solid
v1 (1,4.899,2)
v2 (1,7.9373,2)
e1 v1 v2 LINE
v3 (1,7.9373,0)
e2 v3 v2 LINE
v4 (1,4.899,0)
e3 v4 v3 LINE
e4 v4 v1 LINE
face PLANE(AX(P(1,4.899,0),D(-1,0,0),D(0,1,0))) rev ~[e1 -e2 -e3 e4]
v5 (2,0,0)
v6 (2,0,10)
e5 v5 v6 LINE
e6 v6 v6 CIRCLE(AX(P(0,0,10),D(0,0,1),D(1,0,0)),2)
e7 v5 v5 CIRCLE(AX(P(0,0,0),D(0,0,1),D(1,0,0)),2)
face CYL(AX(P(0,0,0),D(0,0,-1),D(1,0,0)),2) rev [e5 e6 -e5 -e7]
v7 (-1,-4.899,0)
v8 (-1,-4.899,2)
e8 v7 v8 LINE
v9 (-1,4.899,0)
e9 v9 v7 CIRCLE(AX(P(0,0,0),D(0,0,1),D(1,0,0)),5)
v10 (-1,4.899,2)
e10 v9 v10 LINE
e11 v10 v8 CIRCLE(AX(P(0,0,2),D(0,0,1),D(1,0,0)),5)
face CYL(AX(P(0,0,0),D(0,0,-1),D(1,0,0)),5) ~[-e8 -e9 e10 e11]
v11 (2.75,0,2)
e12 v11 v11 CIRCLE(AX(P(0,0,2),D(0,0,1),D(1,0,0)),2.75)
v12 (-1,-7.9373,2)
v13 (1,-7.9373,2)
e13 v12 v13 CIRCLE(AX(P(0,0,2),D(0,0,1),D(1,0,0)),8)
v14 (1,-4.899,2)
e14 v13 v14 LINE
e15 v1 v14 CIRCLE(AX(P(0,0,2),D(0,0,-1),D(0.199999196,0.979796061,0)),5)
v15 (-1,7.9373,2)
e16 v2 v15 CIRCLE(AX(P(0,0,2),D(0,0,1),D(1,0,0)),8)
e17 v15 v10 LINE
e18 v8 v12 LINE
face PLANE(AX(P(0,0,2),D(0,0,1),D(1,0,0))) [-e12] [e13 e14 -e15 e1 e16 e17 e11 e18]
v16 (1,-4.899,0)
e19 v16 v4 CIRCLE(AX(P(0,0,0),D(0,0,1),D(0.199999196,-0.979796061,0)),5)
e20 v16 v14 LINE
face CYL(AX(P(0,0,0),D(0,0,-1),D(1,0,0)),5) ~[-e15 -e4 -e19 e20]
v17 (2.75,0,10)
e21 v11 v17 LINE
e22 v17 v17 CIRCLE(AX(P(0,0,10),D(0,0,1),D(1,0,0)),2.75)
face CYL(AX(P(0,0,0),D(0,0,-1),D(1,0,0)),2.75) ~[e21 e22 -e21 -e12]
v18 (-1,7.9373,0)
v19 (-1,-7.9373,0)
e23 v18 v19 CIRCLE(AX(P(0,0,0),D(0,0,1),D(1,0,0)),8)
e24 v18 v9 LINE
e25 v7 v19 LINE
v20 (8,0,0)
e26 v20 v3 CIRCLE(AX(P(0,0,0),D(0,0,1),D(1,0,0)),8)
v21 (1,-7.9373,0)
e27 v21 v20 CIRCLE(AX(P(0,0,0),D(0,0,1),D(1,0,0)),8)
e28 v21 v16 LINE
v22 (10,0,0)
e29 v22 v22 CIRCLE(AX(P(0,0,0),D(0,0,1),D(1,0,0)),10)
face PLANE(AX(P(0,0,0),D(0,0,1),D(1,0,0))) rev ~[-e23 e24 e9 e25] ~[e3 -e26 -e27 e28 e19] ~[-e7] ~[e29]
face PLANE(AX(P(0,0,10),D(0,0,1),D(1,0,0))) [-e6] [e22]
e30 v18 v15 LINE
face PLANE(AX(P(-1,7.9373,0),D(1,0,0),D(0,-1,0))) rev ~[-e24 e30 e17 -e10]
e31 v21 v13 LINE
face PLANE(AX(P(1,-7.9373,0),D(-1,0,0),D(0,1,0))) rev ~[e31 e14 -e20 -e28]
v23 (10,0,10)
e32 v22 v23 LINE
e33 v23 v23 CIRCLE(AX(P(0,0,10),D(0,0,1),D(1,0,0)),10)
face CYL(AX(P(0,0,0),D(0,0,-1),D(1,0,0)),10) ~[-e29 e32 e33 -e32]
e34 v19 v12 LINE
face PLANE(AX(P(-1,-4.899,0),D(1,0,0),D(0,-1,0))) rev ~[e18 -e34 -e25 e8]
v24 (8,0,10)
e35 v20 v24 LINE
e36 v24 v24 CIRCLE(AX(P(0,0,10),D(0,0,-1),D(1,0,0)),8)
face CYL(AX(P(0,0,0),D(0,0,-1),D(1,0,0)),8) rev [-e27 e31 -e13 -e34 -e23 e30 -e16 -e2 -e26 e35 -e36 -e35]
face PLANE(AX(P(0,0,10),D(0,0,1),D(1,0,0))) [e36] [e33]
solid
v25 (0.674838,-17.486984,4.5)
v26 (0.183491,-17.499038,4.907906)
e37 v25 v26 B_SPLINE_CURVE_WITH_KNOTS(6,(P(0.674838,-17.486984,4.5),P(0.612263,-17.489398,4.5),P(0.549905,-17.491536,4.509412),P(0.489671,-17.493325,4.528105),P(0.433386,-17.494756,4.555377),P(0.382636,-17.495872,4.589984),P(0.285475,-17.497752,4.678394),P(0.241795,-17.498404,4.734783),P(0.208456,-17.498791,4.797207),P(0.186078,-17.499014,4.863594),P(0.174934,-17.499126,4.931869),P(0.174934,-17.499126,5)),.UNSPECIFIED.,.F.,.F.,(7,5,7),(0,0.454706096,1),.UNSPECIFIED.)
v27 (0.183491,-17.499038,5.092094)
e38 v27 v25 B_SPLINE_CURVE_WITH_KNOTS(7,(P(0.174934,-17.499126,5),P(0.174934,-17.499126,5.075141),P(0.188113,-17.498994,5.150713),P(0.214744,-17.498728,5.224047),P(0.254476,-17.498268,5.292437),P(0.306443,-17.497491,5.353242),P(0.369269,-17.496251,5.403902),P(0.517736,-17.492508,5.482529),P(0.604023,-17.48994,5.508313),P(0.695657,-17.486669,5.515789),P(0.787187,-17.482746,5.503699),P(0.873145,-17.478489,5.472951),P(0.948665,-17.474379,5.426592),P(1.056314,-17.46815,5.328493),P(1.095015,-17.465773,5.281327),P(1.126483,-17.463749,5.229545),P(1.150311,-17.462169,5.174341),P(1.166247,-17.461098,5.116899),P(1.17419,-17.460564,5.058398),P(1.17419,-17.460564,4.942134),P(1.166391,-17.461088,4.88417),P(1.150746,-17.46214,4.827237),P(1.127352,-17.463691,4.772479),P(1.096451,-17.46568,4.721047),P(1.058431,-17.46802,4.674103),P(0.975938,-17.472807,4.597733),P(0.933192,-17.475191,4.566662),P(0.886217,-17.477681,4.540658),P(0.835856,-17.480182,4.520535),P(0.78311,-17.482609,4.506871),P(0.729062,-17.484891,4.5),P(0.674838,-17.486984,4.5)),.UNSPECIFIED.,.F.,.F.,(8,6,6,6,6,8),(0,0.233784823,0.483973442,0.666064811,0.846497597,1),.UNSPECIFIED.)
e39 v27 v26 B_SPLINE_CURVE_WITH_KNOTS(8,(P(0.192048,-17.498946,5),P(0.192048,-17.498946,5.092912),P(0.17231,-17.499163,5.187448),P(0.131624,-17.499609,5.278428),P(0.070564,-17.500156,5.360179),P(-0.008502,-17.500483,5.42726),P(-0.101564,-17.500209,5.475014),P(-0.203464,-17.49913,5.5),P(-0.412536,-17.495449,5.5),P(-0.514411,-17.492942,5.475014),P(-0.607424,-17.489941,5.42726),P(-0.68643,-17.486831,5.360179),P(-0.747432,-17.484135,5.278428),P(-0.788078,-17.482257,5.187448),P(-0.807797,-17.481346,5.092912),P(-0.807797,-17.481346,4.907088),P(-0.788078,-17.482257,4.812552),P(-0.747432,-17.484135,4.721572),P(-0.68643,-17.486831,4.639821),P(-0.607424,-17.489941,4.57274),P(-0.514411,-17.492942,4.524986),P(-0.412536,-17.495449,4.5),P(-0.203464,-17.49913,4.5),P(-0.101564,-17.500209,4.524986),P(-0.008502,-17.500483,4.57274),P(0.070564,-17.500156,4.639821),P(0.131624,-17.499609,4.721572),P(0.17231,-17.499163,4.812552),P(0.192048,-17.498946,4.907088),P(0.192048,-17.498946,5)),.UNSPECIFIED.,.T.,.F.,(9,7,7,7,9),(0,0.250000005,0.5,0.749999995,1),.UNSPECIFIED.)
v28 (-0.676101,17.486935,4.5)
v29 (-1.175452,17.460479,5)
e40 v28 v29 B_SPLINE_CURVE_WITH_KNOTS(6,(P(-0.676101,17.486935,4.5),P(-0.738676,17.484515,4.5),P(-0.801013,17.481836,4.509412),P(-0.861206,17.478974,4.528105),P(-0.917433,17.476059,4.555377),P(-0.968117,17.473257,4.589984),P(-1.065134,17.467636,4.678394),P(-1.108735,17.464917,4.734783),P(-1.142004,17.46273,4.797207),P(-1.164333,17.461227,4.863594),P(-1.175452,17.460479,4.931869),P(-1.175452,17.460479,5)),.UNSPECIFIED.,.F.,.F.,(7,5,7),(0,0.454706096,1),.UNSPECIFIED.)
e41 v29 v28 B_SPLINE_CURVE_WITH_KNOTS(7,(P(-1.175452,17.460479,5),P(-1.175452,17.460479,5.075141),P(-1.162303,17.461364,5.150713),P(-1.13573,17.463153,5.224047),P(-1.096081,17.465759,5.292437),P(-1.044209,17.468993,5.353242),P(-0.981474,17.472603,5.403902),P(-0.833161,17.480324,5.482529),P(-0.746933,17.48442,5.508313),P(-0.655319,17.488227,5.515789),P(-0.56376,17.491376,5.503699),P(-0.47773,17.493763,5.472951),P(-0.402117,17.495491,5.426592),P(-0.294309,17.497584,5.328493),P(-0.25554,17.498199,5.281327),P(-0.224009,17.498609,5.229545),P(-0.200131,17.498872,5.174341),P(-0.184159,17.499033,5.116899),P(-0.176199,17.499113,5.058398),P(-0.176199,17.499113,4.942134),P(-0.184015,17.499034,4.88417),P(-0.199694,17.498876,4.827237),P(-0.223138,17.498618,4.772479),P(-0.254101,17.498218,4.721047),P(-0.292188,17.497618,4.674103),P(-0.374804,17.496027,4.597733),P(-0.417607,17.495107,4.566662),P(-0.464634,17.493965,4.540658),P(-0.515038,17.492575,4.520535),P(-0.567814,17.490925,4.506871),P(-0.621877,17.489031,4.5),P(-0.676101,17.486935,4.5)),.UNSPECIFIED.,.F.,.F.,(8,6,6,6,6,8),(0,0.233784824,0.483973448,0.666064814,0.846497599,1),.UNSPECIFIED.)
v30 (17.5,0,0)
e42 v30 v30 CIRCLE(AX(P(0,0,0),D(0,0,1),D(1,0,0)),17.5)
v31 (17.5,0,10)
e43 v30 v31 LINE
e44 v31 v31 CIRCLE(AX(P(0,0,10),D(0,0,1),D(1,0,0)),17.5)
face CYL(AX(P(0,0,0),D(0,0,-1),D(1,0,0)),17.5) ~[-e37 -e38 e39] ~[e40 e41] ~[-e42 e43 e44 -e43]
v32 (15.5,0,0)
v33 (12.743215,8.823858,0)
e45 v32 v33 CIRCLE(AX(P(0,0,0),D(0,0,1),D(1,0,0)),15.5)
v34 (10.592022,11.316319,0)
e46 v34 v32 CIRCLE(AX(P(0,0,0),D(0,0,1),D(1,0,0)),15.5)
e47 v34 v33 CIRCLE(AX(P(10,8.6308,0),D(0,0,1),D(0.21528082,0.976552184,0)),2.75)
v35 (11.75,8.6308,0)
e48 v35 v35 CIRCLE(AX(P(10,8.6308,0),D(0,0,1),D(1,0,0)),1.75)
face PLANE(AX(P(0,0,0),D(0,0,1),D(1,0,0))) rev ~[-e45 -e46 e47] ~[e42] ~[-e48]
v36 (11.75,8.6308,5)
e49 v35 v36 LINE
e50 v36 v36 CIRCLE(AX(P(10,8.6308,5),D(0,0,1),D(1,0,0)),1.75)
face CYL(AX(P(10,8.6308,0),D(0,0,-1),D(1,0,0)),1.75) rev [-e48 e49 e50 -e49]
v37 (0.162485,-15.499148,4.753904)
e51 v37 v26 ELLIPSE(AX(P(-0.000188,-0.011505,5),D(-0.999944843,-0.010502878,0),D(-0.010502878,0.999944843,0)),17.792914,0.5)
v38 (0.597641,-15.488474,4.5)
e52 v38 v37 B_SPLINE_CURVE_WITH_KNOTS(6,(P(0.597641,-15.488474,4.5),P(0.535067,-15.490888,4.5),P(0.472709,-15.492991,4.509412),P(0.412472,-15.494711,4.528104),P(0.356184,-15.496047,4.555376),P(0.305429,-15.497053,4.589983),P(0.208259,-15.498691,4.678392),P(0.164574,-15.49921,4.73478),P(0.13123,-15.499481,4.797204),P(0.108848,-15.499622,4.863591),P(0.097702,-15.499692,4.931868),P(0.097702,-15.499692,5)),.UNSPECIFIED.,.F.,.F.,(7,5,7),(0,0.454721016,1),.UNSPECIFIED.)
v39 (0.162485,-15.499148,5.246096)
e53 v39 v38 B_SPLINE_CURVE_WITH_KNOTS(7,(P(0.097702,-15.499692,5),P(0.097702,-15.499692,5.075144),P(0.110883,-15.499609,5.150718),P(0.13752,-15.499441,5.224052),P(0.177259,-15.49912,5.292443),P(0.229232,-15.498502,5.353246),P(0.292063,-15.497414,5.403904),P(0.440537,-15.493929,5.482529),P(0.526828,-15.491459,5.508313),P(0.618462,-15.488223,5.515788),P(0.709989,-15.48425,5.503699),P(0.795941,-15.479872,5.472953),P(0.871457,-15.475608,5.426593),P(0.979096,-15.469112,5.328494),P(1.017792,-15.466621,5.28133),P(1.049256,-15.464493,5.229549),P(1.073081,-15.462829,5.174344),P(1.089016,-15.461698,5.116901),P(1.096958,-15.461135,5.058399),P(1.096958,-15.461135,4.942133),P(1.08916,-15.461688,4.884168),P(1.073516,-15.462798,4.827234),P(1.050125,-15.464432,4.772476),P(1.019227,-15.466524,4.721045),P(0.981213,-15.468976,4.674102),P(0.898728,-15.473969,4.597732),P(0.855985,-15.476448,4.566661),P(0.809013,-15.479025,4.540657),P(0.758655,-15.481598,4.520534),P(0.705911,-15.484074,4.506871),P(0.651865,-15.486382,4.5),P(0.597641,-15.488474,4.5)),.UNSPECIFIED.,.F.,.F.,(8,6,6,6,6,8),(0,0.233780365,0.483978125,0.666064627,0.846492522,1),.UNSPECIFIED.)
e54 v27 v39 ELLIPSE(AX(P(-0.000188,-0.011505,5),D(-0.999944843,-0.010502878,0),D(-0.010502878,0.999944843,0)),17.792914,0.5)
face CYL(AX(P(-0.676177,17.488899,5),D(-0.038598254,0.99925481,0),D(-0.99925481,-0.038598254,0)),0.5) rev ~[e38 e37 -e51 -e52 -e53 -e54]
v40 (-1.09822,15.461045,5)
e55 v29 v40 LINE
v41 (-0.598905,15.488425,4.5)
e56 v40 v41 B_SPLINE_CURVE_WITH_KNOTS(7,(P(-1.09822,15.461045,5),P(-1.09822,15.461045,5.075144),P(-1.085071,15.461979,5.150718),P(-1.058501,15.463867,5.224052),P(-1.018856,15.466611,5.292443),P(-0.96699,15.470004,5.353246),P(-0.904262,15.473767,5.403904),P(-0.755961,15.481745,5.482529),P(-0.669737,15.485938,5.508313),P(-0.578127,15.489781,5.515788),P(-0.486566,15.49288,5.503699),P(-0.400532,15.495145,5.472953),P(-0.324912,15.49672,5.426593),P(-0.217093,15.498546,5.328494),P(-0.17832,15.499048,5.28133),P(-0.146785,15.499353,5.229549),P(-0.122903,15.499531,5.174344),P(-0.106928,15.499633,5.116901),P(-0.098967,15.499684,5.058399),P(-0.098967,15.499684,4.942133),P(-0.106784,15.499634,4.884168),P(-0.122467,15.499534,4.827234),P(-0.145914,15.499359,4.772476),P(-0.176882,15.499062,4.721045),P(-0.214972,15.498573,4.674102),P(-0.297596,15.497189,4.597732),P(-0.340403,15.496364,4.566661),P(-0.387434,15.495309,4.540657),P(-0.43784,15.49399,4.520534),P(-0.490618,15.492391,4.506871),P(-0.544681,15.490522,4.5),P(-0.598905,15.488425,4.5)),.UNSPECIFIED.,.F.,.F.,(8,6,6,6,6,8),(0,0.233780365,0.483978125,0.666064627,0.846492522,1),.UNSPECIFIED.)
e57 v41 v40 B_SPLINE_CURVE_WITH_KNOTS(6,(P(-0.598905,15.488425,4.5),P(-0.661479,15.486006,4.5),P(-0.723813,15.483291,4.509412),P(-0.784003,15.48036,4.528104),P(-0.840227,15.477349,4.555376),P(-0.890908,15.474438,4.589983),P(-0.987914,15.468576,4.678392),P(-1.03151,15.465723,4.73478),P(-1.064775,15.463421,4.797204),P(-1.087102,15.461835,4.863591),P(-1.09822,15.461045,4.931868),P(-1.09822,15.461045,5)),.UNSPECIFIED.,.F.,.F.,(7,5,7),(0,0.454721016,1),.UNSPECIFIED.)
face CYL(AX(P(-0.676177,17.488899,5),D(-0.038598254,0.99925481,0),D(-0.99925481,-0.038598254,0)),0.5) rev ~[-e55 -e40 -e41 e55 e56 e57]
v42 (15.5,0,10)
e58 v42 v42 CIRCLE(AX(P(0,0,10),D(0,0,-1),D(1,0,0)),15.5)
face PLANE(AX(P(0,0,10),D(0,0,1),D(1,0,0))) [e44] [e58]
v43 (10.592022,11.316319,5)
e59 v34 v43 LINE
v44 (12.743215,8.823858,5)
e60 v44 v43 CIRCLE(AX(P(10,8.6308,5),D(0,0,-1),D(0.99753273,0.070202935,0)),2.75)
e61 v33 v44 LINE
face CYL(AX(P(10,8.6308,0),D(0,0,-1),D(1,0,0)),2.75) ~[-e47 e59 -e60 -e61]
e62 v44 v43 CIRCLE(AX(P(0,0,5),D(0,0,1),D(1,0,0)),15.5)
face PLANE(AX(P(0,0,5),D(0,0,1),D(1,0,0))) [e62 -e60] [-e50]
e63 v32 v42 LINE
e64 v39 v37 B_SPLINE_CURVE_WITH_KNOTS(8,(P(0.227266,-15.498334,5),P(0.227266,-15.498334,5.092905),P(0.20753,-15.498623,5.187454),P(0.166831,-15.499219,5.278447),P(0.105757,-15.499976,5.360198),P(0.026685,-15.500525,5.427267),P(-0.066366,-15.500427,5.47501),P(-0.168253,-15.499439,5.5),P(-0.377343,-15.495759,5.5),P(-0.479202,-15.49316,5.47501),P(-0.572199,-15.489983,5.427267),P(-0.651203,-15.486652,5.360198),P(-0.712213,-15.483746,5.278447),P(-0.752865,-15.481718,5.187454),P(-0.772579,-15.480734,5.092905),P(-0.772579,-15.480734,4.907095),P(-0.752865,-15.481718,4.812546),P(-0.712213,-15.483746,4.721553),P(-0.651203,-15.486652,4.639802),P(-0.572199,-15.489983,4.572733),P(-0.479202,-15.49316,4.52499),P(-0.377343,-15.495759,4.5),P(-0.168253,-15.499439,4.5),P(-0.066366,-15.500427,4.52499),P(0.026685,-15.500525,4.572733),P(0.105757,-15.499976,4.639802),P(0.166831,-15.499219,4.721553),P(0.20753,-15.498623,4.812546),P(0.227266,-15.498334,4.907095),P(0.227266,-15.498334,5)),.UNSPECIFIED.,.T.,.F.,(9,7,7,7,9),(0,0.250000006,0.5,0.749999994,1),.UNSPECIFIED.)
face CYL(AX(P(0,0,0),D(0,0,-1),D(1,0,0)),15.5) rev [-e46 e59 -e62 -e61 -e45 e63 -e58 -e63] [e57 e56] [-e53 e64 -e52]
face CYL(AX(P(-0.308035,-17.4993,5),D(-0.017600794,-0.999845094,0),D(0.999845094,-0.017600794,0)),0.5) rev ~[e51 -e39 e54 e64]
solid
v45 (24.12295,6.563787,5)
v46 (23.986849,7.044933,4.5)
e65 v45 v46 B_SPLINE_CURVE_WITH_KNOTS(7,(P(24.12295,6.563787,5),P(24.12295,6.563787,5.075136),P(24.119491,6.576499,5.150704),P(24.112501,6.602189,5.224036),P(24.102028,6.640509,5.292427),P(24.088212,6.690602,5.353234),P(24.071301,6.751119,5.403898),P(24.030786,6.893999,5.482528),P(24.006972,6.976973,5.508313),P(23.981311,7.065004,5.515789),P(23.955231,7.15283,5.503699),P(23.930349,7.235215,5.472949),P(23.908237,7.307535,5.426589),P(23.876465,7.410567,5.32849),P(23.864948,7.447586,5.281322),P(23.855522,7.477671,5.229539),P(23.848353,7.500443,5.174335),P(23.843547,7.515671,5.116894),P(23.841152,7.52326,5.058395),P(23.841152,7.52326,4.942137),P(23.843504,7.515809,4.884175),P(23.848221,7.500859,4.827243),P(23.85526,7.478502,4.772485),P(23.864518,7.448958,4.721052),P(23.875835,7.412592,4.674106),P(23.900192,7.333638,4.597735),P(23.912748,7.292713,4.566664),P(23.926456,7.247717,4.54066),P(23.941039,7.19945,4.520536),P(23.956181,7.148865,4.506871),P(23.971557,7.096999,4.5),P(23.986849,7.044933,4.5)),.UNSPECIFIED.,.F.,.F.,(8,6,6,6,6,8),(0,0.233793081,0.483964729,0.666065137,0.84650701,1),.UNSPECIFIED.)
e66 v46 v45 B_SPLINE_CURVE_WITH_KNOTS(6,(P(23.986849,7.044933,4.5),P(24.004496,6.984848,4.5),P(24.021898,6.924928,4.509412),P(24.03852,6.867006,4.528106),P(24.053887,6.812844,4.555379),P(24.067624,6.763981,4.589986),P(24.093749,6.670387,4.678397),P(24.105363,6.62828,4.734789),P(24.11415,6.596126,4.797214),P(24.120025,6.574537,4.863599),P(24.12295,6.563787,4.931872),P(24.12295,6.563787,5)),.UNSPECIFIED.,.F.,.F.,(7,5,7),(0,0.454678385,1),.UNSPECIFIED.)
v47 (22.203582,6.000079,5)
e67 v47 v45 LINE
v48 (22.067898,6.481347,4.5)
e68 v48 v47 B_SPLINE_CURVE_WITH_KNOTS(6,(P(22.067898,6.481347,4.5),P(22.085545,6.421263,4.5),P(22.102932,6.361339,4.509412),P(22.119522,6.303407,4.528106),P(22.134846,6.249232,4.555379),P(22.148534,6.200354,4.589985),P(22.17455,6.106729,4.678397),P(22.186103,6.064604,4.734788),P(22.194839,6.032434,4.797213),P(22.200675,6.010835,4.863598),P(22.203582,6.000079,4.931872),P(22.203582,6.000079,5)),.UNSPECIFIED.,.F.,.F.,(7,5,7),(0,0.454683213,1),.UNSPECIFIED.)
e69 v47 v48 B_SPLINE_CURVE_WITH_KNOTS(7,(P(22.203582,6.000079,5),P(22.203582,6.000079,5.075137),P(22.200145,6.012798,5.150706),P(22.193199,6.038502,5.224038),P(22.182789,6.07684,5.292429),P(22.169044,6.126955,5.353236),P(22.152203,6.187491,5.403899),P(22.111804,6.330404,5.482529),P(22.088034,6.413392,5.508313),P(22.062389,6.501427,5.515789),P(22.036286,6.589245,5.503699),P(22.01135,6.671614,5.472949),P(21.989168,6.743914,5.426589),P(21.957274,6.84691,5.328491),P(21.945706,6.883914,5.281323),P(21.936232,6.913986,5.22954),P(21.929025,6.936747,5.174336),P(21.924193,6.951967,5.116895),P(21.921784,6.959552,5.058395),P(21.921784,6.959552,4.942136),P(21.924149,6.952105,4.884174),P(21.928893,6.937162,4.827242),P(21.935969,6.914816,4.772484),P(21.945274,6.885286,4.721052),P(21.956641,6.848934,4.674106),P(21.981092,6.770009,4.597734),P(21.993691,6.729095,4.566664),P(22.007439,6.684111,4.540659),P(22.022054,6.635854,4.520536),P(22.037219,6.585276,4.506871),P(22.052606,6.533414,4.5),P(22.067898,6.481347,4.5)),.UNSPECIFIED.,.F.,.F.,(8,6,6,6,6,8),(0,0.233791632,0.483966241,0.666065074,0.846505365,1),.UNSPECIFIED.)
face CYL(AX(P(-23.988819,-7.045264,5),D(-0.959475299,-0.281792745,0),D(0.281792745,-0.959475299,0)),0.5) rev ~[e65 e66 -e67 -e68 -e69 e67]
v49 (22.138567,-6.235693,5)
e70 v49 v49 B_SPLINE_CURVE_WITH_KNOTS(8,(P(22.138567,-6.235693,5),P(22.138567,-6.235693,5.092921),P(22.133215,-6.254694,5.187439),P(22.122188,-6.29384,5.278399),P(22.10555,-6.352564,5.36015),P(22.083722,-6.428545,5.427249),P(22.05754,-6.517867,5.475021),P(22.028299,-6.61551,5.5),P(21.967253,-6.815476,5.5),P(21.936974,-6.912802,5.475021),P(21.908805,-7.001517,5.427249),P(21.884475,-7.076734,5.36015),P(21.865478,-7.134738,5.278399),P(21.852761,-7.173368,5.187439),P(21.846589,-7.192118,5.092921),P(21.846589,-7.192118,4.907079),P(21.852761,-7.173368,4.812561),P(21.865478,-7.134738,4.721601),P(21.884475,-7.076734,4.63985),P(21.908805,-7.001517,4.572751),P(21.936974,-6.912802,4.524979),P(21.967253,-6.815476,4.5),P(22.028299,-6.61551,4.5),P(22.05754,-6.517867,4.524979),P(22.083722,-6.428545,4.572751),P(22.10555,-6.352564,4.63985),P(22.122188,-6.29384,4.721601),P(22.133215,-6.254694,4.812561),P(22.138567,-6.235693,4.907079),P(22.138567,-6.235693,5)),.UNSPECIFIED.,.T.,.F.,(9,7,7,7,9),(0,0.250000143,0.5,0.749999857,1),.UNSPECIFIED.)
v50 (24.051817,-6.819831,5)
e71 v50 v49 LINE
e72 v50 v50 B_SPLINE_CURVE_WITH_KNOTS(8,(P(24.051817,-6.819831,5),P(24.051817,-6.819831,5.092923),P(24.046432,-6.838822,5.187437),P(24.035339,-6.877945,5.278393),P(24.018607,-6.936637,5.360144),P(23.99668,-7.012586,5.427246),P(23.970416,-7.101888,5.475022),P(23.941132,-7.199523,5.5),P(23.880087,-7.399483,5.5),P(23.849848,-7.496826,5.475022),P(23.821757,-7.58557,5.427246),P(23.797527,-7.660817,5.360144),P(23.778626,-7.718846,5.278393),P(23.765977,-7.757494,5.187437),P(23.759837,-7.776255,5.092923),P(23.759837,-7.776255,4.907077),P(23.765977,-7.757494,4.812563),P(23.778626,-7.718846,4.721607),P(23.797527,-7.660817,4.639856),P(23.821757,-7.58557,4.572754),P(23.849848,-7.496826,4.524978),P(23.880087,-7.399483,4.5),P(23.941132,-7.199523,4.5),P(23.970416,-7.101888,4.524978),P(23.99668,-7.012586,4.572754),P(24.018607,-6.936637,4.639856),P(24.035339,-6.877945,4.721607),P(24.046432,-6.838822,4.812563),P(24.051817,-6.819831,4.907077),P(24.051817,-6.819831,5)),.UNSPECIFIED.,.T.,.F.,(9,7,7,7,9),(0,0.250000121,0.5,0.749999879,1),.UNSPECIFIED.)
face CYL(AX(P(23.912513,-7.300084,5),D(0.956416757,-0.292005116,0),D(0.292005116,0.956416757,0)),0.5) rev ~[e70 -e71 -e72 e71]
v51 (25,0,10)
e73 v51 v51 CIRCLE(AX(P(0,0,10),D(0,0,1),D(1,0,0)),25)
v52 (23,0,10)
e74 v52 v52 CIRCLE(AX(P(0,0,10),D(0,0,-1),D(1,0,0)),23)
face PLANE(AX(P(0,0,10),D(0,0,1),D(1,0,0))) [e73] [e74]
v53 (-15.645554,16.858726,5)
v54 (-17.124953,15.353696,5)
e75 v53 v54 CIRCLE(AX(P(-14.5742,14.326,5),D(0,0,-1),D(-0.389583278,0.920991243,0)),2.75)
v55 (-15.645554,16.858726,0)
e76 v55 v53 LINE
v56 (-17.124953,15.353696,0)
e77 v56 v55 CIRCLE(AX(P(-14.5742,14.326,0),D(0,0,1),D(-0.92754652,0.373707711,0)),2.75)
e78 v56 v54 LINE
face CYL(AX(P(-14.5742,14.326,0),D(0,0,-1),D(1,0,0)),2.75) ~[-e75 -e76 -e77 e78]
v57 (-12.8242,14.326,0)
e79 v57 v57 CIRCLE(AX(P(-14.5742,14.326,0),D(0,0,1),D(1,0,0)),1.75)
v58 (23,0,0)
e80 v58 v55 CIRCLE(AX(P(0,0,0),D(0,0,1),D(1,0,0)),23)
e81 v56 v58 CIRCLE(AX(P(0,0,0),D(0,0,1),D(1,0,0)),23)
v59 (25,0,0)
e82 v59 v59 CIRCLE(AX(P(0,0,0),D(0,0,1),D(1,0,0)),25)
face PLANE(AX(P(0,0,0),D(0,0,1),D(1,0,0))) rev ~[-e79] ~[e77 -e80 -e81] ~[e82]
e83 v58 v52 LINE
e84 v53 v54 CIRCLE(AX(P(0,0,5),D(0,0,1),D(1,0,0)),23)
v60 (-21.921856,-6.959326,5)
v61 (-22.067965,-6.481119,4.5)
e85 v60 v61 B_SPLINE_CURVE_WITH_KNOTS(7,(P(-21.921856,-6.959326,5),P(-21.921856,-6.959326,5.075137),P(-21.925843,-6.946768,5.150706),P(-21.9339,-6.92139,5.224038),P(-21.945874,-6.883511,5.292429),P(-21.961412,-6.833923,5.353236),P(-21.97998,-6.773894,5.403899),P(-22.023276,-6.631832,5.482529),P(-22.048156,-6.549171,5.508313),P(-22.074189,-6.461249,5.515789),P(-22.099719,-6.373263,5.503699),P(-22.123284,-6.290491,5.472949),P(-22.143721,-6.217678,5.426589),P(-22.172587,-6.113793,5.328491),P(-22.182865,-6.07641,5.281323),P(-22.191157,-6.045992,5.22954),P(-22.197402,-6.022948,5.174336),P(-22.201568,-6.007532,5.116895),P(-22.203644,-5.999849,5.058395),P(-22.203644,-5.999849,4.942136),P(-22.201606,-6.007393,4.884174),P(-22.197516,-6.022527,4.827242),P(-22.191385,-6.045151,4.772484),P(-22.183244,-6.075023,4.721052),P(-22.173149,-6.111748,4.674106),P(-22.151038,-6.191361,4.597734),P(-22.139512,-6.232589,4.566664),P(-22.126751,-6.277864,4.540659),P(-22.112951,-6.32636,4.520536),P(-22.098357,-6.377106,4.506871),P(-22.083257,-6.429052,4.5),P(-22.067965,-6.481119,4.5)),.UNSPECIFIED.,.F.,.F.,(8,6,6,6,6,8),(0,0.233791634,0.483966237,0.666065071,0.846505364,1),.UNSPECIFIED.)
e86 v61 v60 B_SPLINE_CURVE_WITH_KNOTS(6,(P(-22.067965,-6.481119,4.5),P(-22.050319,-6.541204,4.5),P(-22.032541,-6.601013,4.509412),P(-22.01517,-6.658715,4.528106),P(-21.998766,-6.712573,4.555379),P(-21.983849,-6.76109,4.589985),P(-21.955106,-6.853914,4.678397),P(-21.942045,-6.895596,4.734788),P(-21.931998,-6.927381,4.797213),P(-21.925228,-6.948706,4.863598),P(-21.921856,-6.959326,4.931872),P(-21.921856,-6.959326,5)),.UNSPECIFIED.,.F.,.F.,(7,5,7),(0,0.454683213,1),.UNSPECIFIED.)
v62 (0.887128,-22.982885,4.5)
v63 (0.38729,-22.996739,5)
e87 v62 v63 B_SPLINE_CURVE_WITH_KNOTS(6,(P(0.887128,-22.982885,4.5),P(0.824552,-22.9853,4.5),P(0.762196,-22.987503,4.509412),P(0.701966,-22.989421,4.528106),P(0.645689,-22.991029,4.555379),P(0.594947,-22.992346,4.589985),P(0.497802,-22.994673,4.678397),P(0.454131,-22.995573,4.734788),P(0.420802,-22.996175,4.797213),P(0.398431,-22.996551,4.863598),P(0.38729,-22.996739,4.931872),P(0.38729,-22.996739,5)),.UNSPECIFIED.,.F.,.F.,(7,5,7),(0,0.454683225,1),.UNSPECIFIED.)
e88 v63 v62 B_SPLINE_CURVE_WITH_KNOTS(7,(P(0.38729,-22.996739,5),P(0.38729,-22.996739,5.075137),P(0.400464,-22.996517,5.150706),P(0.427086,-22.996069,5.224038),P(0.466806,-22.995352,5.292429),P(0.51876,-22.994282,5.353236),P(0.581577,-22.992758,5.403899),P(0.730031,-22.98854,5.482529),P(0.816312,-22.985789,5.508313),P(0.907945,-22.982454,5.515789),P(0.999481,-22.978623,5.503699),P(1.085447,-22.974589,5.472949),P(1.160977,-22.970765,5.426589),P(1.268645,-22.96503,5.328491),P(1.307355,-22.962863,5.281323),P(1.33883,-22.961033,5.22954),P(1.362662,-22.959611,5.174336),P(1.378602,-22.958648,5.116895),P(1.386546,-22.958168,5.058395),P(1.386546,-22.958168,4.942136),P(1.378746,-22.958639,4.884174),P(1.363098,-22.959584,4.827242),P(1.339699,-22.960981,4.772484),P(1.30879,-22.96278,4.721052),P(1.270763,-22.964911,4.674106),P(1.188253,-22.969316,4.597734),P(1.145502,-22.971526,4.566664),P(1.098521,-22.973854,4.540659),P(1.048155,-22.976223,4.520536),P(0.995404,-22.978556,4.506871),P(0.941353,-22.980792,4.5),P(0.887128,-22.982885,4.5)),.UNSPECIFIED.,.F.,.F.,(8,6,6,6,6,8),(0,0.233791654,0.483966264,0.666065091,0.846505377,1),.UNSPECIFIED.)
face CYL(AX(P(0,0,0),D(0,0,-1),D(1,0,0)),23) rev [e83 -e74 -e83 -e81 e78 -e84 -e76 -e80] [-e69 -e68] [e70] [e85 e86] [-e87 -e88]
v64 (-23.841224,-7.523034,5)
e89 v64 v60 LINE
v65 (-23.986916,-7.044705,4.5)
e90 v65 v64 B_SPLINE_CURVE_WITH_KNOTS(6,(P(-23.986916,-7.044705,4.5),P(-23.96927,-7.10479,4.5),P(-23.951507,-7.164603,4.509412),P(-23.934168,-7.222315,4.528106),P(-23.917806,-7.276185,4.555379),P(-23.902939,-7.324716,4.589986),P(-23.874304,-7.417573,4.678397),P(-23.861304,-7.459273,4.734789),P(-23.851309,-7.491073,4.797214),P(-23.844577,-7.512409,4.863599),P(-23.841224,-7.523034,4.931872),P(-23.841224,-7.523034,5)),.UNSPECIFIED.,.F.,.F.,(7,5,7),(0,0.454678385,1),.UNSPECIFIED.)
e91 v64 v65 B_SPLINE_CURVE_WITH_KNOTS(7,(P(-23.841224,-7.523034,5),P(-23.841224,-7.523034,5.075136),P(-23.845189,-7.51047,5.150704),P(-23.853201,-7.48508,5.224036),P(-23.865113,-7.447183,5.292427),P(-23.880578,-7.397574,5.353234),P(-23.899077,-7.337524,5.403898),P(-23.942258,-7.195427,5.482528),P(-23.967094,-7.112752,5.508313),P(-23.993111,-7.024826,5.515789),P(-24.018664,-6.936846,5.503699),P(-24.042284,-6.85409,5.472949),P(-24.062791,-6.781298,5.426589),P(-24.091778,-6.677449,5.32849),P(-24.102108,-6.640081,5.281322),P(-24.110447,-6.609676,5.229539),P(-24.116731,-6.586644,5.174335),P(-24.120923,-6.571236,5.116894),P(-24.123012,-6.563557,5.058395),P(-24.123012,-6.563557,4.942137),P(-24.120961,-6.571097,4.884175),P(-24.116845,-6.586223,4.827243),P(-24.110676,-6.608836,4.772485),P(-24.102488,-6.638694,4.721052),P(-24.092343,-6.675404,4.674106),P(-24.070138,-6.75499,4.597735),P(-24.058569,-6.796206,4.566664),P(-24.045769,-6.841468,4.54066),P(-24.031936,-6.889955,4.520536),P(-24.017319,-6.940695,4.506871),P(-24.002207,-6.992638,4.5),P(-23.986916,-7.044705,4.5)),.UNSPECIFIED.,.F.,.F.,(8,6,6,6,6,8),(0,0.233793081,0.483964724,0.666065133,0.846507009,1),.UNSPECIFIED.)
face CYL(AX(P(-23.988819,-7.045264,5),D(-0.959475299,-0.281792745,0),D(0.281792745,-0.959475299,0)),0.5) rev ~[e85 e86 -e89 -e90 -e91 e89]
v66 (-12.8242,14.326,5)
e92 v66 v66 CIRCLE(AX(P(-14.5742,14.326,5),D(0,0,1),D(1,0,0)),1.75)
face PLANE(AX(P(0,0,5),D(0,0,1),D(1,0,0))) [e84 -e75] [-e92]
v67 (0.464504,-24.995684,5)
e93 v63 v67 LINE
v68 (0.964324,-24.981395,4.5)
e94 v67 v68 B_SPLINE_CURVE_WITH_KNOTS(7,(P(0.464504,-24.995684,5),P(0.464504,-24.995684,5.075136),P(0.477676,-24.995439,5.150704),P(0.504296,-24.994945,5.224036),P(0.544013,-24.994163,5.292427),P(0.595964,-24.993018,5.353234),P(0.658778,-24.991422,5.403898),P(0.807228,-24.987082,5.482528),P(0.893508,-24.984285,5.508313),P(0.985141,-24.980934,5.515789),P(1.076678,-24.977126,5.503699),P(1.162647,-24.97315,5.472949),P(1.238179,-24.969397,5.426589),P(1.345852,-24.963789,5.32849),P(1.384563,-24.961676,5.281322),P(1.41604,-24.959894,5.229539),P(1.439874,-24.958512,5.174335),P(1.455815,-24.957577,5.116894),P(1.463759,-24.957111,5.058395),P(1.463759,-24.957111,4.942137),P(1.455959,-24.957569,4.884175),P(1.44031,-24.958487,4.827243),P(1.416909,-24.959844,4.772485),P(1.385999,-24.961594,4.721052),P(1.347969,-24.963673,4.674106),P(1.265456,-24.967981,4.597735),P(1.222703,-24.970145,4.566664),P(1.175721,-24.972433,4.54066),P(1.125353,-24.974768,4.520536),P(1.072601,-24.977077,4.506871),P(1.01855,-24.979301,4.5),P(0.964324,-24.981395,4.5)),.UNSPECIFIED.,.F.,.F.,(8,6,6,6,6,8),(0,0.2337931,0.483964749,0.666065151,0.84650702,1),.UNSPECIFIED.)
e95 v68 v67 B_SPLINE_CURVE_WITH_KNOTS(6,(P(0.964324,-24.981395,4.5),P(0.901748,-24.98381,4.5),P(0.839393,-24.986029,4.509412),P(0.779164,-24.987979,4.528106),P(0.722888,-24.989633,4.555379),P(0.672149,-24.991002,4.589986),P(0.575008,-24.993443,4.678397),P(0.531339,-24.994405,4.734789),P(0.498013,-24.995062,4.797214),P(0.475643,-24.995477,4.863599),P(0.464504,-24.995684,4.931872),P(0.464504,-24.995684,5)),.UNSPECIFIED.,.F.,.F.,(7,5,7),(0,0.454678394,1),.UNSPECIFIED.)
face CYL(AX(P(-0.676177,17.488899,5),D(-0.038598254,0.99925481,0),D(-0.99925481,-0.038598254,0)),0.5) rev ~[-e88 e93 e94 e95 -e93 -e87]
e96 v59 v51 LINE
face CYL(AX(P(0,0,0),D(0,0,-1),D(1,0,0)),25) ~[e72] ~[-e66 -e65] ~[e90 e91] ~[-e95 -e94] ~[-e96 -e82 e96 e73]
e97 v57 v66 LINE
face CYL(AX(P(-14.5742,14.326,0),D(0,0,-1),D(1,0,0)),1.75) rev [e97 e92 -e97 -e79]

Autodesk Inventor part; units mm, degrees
ref_plane "YZ Plane" through (0, 0, 0) normal (1, 0, 0) x (0, 1, 0)
ref_plane "XZ Plane" through (0, 0, 0) normal (0, 1, 0) x (-1, 0, 0)
ref_plane "XY Plane" through (0, 0, 0) normal (0, 0, 1) x (1, 0, 0)
sketch "Sketch1" plane through (0, 0, 0) normal (0, 0, 1) x (1, 0, 0)
  circle A0 centre (0, 0) radius 25
  circle A1 centre (0, 0) radius 23
  circle A2 centre (0, 0) radius 17.5
  circle A3 centre (0, 0) radius 15.5
  circle A4 centre (0, 0) radius 10
  circle A5 centre (0, 0) radius 8
  circle A6 centre (0, 0) radius 5
  line L0 (-0.4916, -7.9849) -> (0.4916, 7.9849) construction
  line L1 (0.4916, -7.9849) -> (-0.4916, 7.9849) construction
  circle A7 centre (0, 0) radius 2
  line L2 (-1, 7.9373) -> (-1, 4.899)
  line L3 (-1, -4.899) -> (-1, -7.9373)
  line L4 (1, -7.9373) -> (1, -4.899)
  line L5 (1, 4.899) -> (1, 7.9373)
  circle A8 centre (0, 0) radius 2.75
  circle A9 centre (10, 8.6308) radius 2.75
  circle A10 centre (10, 8.6308) radius 1.75
  circle A11 centre (-14.5742, 14.326) radius 2.75
  circle A12 centre (-14.5742, 14.326) radius 1.75
  point P0 (-23.9869, -7.0447)
  point P1 (23.9106, -7.2995)
  point P2 (-0.7169, 22.9888)
  point P3 (-0.308, -17.4973)
  point P4 (-0.6761, 17.4869)
  point P5 (-17.125, 15.3536)
  point P6 (-15.6456, 16.8587)
  point P7 (10.592, 11.3164)
  point P8 (12.7432, 8.8239)
  dimension "d0" = 50
  dimension "d1" = 2
  dimension "d2" = 35
  dimension "d3" = 2
  dimension "d4" = 20
  dimension "d5" = 2
  dimension "d16" = 4
  dimension "d17" = 2
  dimension "d18" = 2
  dimension "d19" = 5.5
  dimension "d58" = 5.5
  dimension "d59" = 3.5
  dimension "d60" = 5.5
  dimension "d61" = 3.5
extrude "Extrusion1" add sketch "Sketch1" along normal blind 10 contours A0 | A1 A11 picked at (-16.4455, 16.1655)
ref_plane "Work Plane1" through (-23.9869, -7.0447, 0) normal (-0.9595, -0.2818, 0) x (0.2818, -0.9595, 0)
sketch "Sketch2" plane through (-23.9869, -7.0447, 0) normal (-0.9595, -0.2818, 0) x (0.2818, -0.9595, 0)
  line L0 (0, 0) -> (0, 5)
  circle A0 centre (0, 5) radius 0.5
  dimension "d22" = 5
  dimension "d23" = 1
extrude "Extrusion2" cut sketch "Sketch2" against normal blind 50
extrude "Extrusion3" add sketch "Sketch1" along normal blind 10 contours A2 | A3 A9 picked at (11.845, 10.2232)
ref_plane "Work Plane2" through (-0.6761, 17.4869, 0) normal (-0.0386, 0.9993, 0) x (-0.9993, -0.0386, 0)
sketch "Sketch3" plane through (-0.6761, 17.4869, 0) normal (-0.0386, 0.9993, 0) x (-0.9993, -0.0386, 0)
  line L0 (0, 0) -> (0, 5)
  circle A0 centre (0, 5) radius 0.5
  dimension "d28" = 5
  dimension "d29" = 1
extrude "Extrusion4" cut sketch "Sketch3" against normal blind 44
extrude "Extrusion5" cut sketch "Sketch2" against normal blind 4.5
ref_plane "Work Plane3" through (23.9106, -7.2995, 0) normal (0.9564, -0.292, 0) x (0.292, 0.9564, 0)
sketch "Sketch4" plane through (23.9106, -7.2995, 0) normal (0.9564, -0.292, 0) x (0.292, 0.9564, 0)
  circle A0 centre (0, 5) radius 0.5 projected
  circle A1 centre (0, 5) radius 0.5
  point P0 (0, 0)
  dimension "d34" = 1
extrude "Extrusion6" cut sketch "Sketch4" against normal blind 4.5
extrude "Extrusion7" add sketch "Sketch1" along normal blind 10 contours A4
extrude "Extrusion8" cut sketch "Sketch3" against normal blind 5
ref_plane "Work Plane4" through (-0.308, -17.4973, 0) normal (-0.0176, -0.9998, 0) x (0.9998, -0.0176, 0)
sketch "Sketch5" plane through (-0.308, -17.4973, 0) normal (-0.0176, -0.9998, 0) x (0.9998, -0.0176, 0)
  circle A0 centre (0, 5) radius 0.5 projected
  circle A1 centre (0, 5) radius 0.5
  point P0 (0, 0)
  dimension "d41" = 1
extrude "Extrusion9" cut sketch "Sketch5" against normal blind 5
extrude "Extrusion10" add sketch "Sketch1" along normal blind 2 contours L5 A6 L2 A5 | A5 L3 A6 L4 | A6
extrude "Extrusion11" add sketch "Sketch1" along normal blind 10 contours A8
extrude "Extrusion12" add sketch "Sketch1" along normal blind 5 contours A11 A1 | A9 A3 picked at (-15.6648, 16.3977) picked at (10.86, 10.7068)
properties part number "improved_gimbal"
